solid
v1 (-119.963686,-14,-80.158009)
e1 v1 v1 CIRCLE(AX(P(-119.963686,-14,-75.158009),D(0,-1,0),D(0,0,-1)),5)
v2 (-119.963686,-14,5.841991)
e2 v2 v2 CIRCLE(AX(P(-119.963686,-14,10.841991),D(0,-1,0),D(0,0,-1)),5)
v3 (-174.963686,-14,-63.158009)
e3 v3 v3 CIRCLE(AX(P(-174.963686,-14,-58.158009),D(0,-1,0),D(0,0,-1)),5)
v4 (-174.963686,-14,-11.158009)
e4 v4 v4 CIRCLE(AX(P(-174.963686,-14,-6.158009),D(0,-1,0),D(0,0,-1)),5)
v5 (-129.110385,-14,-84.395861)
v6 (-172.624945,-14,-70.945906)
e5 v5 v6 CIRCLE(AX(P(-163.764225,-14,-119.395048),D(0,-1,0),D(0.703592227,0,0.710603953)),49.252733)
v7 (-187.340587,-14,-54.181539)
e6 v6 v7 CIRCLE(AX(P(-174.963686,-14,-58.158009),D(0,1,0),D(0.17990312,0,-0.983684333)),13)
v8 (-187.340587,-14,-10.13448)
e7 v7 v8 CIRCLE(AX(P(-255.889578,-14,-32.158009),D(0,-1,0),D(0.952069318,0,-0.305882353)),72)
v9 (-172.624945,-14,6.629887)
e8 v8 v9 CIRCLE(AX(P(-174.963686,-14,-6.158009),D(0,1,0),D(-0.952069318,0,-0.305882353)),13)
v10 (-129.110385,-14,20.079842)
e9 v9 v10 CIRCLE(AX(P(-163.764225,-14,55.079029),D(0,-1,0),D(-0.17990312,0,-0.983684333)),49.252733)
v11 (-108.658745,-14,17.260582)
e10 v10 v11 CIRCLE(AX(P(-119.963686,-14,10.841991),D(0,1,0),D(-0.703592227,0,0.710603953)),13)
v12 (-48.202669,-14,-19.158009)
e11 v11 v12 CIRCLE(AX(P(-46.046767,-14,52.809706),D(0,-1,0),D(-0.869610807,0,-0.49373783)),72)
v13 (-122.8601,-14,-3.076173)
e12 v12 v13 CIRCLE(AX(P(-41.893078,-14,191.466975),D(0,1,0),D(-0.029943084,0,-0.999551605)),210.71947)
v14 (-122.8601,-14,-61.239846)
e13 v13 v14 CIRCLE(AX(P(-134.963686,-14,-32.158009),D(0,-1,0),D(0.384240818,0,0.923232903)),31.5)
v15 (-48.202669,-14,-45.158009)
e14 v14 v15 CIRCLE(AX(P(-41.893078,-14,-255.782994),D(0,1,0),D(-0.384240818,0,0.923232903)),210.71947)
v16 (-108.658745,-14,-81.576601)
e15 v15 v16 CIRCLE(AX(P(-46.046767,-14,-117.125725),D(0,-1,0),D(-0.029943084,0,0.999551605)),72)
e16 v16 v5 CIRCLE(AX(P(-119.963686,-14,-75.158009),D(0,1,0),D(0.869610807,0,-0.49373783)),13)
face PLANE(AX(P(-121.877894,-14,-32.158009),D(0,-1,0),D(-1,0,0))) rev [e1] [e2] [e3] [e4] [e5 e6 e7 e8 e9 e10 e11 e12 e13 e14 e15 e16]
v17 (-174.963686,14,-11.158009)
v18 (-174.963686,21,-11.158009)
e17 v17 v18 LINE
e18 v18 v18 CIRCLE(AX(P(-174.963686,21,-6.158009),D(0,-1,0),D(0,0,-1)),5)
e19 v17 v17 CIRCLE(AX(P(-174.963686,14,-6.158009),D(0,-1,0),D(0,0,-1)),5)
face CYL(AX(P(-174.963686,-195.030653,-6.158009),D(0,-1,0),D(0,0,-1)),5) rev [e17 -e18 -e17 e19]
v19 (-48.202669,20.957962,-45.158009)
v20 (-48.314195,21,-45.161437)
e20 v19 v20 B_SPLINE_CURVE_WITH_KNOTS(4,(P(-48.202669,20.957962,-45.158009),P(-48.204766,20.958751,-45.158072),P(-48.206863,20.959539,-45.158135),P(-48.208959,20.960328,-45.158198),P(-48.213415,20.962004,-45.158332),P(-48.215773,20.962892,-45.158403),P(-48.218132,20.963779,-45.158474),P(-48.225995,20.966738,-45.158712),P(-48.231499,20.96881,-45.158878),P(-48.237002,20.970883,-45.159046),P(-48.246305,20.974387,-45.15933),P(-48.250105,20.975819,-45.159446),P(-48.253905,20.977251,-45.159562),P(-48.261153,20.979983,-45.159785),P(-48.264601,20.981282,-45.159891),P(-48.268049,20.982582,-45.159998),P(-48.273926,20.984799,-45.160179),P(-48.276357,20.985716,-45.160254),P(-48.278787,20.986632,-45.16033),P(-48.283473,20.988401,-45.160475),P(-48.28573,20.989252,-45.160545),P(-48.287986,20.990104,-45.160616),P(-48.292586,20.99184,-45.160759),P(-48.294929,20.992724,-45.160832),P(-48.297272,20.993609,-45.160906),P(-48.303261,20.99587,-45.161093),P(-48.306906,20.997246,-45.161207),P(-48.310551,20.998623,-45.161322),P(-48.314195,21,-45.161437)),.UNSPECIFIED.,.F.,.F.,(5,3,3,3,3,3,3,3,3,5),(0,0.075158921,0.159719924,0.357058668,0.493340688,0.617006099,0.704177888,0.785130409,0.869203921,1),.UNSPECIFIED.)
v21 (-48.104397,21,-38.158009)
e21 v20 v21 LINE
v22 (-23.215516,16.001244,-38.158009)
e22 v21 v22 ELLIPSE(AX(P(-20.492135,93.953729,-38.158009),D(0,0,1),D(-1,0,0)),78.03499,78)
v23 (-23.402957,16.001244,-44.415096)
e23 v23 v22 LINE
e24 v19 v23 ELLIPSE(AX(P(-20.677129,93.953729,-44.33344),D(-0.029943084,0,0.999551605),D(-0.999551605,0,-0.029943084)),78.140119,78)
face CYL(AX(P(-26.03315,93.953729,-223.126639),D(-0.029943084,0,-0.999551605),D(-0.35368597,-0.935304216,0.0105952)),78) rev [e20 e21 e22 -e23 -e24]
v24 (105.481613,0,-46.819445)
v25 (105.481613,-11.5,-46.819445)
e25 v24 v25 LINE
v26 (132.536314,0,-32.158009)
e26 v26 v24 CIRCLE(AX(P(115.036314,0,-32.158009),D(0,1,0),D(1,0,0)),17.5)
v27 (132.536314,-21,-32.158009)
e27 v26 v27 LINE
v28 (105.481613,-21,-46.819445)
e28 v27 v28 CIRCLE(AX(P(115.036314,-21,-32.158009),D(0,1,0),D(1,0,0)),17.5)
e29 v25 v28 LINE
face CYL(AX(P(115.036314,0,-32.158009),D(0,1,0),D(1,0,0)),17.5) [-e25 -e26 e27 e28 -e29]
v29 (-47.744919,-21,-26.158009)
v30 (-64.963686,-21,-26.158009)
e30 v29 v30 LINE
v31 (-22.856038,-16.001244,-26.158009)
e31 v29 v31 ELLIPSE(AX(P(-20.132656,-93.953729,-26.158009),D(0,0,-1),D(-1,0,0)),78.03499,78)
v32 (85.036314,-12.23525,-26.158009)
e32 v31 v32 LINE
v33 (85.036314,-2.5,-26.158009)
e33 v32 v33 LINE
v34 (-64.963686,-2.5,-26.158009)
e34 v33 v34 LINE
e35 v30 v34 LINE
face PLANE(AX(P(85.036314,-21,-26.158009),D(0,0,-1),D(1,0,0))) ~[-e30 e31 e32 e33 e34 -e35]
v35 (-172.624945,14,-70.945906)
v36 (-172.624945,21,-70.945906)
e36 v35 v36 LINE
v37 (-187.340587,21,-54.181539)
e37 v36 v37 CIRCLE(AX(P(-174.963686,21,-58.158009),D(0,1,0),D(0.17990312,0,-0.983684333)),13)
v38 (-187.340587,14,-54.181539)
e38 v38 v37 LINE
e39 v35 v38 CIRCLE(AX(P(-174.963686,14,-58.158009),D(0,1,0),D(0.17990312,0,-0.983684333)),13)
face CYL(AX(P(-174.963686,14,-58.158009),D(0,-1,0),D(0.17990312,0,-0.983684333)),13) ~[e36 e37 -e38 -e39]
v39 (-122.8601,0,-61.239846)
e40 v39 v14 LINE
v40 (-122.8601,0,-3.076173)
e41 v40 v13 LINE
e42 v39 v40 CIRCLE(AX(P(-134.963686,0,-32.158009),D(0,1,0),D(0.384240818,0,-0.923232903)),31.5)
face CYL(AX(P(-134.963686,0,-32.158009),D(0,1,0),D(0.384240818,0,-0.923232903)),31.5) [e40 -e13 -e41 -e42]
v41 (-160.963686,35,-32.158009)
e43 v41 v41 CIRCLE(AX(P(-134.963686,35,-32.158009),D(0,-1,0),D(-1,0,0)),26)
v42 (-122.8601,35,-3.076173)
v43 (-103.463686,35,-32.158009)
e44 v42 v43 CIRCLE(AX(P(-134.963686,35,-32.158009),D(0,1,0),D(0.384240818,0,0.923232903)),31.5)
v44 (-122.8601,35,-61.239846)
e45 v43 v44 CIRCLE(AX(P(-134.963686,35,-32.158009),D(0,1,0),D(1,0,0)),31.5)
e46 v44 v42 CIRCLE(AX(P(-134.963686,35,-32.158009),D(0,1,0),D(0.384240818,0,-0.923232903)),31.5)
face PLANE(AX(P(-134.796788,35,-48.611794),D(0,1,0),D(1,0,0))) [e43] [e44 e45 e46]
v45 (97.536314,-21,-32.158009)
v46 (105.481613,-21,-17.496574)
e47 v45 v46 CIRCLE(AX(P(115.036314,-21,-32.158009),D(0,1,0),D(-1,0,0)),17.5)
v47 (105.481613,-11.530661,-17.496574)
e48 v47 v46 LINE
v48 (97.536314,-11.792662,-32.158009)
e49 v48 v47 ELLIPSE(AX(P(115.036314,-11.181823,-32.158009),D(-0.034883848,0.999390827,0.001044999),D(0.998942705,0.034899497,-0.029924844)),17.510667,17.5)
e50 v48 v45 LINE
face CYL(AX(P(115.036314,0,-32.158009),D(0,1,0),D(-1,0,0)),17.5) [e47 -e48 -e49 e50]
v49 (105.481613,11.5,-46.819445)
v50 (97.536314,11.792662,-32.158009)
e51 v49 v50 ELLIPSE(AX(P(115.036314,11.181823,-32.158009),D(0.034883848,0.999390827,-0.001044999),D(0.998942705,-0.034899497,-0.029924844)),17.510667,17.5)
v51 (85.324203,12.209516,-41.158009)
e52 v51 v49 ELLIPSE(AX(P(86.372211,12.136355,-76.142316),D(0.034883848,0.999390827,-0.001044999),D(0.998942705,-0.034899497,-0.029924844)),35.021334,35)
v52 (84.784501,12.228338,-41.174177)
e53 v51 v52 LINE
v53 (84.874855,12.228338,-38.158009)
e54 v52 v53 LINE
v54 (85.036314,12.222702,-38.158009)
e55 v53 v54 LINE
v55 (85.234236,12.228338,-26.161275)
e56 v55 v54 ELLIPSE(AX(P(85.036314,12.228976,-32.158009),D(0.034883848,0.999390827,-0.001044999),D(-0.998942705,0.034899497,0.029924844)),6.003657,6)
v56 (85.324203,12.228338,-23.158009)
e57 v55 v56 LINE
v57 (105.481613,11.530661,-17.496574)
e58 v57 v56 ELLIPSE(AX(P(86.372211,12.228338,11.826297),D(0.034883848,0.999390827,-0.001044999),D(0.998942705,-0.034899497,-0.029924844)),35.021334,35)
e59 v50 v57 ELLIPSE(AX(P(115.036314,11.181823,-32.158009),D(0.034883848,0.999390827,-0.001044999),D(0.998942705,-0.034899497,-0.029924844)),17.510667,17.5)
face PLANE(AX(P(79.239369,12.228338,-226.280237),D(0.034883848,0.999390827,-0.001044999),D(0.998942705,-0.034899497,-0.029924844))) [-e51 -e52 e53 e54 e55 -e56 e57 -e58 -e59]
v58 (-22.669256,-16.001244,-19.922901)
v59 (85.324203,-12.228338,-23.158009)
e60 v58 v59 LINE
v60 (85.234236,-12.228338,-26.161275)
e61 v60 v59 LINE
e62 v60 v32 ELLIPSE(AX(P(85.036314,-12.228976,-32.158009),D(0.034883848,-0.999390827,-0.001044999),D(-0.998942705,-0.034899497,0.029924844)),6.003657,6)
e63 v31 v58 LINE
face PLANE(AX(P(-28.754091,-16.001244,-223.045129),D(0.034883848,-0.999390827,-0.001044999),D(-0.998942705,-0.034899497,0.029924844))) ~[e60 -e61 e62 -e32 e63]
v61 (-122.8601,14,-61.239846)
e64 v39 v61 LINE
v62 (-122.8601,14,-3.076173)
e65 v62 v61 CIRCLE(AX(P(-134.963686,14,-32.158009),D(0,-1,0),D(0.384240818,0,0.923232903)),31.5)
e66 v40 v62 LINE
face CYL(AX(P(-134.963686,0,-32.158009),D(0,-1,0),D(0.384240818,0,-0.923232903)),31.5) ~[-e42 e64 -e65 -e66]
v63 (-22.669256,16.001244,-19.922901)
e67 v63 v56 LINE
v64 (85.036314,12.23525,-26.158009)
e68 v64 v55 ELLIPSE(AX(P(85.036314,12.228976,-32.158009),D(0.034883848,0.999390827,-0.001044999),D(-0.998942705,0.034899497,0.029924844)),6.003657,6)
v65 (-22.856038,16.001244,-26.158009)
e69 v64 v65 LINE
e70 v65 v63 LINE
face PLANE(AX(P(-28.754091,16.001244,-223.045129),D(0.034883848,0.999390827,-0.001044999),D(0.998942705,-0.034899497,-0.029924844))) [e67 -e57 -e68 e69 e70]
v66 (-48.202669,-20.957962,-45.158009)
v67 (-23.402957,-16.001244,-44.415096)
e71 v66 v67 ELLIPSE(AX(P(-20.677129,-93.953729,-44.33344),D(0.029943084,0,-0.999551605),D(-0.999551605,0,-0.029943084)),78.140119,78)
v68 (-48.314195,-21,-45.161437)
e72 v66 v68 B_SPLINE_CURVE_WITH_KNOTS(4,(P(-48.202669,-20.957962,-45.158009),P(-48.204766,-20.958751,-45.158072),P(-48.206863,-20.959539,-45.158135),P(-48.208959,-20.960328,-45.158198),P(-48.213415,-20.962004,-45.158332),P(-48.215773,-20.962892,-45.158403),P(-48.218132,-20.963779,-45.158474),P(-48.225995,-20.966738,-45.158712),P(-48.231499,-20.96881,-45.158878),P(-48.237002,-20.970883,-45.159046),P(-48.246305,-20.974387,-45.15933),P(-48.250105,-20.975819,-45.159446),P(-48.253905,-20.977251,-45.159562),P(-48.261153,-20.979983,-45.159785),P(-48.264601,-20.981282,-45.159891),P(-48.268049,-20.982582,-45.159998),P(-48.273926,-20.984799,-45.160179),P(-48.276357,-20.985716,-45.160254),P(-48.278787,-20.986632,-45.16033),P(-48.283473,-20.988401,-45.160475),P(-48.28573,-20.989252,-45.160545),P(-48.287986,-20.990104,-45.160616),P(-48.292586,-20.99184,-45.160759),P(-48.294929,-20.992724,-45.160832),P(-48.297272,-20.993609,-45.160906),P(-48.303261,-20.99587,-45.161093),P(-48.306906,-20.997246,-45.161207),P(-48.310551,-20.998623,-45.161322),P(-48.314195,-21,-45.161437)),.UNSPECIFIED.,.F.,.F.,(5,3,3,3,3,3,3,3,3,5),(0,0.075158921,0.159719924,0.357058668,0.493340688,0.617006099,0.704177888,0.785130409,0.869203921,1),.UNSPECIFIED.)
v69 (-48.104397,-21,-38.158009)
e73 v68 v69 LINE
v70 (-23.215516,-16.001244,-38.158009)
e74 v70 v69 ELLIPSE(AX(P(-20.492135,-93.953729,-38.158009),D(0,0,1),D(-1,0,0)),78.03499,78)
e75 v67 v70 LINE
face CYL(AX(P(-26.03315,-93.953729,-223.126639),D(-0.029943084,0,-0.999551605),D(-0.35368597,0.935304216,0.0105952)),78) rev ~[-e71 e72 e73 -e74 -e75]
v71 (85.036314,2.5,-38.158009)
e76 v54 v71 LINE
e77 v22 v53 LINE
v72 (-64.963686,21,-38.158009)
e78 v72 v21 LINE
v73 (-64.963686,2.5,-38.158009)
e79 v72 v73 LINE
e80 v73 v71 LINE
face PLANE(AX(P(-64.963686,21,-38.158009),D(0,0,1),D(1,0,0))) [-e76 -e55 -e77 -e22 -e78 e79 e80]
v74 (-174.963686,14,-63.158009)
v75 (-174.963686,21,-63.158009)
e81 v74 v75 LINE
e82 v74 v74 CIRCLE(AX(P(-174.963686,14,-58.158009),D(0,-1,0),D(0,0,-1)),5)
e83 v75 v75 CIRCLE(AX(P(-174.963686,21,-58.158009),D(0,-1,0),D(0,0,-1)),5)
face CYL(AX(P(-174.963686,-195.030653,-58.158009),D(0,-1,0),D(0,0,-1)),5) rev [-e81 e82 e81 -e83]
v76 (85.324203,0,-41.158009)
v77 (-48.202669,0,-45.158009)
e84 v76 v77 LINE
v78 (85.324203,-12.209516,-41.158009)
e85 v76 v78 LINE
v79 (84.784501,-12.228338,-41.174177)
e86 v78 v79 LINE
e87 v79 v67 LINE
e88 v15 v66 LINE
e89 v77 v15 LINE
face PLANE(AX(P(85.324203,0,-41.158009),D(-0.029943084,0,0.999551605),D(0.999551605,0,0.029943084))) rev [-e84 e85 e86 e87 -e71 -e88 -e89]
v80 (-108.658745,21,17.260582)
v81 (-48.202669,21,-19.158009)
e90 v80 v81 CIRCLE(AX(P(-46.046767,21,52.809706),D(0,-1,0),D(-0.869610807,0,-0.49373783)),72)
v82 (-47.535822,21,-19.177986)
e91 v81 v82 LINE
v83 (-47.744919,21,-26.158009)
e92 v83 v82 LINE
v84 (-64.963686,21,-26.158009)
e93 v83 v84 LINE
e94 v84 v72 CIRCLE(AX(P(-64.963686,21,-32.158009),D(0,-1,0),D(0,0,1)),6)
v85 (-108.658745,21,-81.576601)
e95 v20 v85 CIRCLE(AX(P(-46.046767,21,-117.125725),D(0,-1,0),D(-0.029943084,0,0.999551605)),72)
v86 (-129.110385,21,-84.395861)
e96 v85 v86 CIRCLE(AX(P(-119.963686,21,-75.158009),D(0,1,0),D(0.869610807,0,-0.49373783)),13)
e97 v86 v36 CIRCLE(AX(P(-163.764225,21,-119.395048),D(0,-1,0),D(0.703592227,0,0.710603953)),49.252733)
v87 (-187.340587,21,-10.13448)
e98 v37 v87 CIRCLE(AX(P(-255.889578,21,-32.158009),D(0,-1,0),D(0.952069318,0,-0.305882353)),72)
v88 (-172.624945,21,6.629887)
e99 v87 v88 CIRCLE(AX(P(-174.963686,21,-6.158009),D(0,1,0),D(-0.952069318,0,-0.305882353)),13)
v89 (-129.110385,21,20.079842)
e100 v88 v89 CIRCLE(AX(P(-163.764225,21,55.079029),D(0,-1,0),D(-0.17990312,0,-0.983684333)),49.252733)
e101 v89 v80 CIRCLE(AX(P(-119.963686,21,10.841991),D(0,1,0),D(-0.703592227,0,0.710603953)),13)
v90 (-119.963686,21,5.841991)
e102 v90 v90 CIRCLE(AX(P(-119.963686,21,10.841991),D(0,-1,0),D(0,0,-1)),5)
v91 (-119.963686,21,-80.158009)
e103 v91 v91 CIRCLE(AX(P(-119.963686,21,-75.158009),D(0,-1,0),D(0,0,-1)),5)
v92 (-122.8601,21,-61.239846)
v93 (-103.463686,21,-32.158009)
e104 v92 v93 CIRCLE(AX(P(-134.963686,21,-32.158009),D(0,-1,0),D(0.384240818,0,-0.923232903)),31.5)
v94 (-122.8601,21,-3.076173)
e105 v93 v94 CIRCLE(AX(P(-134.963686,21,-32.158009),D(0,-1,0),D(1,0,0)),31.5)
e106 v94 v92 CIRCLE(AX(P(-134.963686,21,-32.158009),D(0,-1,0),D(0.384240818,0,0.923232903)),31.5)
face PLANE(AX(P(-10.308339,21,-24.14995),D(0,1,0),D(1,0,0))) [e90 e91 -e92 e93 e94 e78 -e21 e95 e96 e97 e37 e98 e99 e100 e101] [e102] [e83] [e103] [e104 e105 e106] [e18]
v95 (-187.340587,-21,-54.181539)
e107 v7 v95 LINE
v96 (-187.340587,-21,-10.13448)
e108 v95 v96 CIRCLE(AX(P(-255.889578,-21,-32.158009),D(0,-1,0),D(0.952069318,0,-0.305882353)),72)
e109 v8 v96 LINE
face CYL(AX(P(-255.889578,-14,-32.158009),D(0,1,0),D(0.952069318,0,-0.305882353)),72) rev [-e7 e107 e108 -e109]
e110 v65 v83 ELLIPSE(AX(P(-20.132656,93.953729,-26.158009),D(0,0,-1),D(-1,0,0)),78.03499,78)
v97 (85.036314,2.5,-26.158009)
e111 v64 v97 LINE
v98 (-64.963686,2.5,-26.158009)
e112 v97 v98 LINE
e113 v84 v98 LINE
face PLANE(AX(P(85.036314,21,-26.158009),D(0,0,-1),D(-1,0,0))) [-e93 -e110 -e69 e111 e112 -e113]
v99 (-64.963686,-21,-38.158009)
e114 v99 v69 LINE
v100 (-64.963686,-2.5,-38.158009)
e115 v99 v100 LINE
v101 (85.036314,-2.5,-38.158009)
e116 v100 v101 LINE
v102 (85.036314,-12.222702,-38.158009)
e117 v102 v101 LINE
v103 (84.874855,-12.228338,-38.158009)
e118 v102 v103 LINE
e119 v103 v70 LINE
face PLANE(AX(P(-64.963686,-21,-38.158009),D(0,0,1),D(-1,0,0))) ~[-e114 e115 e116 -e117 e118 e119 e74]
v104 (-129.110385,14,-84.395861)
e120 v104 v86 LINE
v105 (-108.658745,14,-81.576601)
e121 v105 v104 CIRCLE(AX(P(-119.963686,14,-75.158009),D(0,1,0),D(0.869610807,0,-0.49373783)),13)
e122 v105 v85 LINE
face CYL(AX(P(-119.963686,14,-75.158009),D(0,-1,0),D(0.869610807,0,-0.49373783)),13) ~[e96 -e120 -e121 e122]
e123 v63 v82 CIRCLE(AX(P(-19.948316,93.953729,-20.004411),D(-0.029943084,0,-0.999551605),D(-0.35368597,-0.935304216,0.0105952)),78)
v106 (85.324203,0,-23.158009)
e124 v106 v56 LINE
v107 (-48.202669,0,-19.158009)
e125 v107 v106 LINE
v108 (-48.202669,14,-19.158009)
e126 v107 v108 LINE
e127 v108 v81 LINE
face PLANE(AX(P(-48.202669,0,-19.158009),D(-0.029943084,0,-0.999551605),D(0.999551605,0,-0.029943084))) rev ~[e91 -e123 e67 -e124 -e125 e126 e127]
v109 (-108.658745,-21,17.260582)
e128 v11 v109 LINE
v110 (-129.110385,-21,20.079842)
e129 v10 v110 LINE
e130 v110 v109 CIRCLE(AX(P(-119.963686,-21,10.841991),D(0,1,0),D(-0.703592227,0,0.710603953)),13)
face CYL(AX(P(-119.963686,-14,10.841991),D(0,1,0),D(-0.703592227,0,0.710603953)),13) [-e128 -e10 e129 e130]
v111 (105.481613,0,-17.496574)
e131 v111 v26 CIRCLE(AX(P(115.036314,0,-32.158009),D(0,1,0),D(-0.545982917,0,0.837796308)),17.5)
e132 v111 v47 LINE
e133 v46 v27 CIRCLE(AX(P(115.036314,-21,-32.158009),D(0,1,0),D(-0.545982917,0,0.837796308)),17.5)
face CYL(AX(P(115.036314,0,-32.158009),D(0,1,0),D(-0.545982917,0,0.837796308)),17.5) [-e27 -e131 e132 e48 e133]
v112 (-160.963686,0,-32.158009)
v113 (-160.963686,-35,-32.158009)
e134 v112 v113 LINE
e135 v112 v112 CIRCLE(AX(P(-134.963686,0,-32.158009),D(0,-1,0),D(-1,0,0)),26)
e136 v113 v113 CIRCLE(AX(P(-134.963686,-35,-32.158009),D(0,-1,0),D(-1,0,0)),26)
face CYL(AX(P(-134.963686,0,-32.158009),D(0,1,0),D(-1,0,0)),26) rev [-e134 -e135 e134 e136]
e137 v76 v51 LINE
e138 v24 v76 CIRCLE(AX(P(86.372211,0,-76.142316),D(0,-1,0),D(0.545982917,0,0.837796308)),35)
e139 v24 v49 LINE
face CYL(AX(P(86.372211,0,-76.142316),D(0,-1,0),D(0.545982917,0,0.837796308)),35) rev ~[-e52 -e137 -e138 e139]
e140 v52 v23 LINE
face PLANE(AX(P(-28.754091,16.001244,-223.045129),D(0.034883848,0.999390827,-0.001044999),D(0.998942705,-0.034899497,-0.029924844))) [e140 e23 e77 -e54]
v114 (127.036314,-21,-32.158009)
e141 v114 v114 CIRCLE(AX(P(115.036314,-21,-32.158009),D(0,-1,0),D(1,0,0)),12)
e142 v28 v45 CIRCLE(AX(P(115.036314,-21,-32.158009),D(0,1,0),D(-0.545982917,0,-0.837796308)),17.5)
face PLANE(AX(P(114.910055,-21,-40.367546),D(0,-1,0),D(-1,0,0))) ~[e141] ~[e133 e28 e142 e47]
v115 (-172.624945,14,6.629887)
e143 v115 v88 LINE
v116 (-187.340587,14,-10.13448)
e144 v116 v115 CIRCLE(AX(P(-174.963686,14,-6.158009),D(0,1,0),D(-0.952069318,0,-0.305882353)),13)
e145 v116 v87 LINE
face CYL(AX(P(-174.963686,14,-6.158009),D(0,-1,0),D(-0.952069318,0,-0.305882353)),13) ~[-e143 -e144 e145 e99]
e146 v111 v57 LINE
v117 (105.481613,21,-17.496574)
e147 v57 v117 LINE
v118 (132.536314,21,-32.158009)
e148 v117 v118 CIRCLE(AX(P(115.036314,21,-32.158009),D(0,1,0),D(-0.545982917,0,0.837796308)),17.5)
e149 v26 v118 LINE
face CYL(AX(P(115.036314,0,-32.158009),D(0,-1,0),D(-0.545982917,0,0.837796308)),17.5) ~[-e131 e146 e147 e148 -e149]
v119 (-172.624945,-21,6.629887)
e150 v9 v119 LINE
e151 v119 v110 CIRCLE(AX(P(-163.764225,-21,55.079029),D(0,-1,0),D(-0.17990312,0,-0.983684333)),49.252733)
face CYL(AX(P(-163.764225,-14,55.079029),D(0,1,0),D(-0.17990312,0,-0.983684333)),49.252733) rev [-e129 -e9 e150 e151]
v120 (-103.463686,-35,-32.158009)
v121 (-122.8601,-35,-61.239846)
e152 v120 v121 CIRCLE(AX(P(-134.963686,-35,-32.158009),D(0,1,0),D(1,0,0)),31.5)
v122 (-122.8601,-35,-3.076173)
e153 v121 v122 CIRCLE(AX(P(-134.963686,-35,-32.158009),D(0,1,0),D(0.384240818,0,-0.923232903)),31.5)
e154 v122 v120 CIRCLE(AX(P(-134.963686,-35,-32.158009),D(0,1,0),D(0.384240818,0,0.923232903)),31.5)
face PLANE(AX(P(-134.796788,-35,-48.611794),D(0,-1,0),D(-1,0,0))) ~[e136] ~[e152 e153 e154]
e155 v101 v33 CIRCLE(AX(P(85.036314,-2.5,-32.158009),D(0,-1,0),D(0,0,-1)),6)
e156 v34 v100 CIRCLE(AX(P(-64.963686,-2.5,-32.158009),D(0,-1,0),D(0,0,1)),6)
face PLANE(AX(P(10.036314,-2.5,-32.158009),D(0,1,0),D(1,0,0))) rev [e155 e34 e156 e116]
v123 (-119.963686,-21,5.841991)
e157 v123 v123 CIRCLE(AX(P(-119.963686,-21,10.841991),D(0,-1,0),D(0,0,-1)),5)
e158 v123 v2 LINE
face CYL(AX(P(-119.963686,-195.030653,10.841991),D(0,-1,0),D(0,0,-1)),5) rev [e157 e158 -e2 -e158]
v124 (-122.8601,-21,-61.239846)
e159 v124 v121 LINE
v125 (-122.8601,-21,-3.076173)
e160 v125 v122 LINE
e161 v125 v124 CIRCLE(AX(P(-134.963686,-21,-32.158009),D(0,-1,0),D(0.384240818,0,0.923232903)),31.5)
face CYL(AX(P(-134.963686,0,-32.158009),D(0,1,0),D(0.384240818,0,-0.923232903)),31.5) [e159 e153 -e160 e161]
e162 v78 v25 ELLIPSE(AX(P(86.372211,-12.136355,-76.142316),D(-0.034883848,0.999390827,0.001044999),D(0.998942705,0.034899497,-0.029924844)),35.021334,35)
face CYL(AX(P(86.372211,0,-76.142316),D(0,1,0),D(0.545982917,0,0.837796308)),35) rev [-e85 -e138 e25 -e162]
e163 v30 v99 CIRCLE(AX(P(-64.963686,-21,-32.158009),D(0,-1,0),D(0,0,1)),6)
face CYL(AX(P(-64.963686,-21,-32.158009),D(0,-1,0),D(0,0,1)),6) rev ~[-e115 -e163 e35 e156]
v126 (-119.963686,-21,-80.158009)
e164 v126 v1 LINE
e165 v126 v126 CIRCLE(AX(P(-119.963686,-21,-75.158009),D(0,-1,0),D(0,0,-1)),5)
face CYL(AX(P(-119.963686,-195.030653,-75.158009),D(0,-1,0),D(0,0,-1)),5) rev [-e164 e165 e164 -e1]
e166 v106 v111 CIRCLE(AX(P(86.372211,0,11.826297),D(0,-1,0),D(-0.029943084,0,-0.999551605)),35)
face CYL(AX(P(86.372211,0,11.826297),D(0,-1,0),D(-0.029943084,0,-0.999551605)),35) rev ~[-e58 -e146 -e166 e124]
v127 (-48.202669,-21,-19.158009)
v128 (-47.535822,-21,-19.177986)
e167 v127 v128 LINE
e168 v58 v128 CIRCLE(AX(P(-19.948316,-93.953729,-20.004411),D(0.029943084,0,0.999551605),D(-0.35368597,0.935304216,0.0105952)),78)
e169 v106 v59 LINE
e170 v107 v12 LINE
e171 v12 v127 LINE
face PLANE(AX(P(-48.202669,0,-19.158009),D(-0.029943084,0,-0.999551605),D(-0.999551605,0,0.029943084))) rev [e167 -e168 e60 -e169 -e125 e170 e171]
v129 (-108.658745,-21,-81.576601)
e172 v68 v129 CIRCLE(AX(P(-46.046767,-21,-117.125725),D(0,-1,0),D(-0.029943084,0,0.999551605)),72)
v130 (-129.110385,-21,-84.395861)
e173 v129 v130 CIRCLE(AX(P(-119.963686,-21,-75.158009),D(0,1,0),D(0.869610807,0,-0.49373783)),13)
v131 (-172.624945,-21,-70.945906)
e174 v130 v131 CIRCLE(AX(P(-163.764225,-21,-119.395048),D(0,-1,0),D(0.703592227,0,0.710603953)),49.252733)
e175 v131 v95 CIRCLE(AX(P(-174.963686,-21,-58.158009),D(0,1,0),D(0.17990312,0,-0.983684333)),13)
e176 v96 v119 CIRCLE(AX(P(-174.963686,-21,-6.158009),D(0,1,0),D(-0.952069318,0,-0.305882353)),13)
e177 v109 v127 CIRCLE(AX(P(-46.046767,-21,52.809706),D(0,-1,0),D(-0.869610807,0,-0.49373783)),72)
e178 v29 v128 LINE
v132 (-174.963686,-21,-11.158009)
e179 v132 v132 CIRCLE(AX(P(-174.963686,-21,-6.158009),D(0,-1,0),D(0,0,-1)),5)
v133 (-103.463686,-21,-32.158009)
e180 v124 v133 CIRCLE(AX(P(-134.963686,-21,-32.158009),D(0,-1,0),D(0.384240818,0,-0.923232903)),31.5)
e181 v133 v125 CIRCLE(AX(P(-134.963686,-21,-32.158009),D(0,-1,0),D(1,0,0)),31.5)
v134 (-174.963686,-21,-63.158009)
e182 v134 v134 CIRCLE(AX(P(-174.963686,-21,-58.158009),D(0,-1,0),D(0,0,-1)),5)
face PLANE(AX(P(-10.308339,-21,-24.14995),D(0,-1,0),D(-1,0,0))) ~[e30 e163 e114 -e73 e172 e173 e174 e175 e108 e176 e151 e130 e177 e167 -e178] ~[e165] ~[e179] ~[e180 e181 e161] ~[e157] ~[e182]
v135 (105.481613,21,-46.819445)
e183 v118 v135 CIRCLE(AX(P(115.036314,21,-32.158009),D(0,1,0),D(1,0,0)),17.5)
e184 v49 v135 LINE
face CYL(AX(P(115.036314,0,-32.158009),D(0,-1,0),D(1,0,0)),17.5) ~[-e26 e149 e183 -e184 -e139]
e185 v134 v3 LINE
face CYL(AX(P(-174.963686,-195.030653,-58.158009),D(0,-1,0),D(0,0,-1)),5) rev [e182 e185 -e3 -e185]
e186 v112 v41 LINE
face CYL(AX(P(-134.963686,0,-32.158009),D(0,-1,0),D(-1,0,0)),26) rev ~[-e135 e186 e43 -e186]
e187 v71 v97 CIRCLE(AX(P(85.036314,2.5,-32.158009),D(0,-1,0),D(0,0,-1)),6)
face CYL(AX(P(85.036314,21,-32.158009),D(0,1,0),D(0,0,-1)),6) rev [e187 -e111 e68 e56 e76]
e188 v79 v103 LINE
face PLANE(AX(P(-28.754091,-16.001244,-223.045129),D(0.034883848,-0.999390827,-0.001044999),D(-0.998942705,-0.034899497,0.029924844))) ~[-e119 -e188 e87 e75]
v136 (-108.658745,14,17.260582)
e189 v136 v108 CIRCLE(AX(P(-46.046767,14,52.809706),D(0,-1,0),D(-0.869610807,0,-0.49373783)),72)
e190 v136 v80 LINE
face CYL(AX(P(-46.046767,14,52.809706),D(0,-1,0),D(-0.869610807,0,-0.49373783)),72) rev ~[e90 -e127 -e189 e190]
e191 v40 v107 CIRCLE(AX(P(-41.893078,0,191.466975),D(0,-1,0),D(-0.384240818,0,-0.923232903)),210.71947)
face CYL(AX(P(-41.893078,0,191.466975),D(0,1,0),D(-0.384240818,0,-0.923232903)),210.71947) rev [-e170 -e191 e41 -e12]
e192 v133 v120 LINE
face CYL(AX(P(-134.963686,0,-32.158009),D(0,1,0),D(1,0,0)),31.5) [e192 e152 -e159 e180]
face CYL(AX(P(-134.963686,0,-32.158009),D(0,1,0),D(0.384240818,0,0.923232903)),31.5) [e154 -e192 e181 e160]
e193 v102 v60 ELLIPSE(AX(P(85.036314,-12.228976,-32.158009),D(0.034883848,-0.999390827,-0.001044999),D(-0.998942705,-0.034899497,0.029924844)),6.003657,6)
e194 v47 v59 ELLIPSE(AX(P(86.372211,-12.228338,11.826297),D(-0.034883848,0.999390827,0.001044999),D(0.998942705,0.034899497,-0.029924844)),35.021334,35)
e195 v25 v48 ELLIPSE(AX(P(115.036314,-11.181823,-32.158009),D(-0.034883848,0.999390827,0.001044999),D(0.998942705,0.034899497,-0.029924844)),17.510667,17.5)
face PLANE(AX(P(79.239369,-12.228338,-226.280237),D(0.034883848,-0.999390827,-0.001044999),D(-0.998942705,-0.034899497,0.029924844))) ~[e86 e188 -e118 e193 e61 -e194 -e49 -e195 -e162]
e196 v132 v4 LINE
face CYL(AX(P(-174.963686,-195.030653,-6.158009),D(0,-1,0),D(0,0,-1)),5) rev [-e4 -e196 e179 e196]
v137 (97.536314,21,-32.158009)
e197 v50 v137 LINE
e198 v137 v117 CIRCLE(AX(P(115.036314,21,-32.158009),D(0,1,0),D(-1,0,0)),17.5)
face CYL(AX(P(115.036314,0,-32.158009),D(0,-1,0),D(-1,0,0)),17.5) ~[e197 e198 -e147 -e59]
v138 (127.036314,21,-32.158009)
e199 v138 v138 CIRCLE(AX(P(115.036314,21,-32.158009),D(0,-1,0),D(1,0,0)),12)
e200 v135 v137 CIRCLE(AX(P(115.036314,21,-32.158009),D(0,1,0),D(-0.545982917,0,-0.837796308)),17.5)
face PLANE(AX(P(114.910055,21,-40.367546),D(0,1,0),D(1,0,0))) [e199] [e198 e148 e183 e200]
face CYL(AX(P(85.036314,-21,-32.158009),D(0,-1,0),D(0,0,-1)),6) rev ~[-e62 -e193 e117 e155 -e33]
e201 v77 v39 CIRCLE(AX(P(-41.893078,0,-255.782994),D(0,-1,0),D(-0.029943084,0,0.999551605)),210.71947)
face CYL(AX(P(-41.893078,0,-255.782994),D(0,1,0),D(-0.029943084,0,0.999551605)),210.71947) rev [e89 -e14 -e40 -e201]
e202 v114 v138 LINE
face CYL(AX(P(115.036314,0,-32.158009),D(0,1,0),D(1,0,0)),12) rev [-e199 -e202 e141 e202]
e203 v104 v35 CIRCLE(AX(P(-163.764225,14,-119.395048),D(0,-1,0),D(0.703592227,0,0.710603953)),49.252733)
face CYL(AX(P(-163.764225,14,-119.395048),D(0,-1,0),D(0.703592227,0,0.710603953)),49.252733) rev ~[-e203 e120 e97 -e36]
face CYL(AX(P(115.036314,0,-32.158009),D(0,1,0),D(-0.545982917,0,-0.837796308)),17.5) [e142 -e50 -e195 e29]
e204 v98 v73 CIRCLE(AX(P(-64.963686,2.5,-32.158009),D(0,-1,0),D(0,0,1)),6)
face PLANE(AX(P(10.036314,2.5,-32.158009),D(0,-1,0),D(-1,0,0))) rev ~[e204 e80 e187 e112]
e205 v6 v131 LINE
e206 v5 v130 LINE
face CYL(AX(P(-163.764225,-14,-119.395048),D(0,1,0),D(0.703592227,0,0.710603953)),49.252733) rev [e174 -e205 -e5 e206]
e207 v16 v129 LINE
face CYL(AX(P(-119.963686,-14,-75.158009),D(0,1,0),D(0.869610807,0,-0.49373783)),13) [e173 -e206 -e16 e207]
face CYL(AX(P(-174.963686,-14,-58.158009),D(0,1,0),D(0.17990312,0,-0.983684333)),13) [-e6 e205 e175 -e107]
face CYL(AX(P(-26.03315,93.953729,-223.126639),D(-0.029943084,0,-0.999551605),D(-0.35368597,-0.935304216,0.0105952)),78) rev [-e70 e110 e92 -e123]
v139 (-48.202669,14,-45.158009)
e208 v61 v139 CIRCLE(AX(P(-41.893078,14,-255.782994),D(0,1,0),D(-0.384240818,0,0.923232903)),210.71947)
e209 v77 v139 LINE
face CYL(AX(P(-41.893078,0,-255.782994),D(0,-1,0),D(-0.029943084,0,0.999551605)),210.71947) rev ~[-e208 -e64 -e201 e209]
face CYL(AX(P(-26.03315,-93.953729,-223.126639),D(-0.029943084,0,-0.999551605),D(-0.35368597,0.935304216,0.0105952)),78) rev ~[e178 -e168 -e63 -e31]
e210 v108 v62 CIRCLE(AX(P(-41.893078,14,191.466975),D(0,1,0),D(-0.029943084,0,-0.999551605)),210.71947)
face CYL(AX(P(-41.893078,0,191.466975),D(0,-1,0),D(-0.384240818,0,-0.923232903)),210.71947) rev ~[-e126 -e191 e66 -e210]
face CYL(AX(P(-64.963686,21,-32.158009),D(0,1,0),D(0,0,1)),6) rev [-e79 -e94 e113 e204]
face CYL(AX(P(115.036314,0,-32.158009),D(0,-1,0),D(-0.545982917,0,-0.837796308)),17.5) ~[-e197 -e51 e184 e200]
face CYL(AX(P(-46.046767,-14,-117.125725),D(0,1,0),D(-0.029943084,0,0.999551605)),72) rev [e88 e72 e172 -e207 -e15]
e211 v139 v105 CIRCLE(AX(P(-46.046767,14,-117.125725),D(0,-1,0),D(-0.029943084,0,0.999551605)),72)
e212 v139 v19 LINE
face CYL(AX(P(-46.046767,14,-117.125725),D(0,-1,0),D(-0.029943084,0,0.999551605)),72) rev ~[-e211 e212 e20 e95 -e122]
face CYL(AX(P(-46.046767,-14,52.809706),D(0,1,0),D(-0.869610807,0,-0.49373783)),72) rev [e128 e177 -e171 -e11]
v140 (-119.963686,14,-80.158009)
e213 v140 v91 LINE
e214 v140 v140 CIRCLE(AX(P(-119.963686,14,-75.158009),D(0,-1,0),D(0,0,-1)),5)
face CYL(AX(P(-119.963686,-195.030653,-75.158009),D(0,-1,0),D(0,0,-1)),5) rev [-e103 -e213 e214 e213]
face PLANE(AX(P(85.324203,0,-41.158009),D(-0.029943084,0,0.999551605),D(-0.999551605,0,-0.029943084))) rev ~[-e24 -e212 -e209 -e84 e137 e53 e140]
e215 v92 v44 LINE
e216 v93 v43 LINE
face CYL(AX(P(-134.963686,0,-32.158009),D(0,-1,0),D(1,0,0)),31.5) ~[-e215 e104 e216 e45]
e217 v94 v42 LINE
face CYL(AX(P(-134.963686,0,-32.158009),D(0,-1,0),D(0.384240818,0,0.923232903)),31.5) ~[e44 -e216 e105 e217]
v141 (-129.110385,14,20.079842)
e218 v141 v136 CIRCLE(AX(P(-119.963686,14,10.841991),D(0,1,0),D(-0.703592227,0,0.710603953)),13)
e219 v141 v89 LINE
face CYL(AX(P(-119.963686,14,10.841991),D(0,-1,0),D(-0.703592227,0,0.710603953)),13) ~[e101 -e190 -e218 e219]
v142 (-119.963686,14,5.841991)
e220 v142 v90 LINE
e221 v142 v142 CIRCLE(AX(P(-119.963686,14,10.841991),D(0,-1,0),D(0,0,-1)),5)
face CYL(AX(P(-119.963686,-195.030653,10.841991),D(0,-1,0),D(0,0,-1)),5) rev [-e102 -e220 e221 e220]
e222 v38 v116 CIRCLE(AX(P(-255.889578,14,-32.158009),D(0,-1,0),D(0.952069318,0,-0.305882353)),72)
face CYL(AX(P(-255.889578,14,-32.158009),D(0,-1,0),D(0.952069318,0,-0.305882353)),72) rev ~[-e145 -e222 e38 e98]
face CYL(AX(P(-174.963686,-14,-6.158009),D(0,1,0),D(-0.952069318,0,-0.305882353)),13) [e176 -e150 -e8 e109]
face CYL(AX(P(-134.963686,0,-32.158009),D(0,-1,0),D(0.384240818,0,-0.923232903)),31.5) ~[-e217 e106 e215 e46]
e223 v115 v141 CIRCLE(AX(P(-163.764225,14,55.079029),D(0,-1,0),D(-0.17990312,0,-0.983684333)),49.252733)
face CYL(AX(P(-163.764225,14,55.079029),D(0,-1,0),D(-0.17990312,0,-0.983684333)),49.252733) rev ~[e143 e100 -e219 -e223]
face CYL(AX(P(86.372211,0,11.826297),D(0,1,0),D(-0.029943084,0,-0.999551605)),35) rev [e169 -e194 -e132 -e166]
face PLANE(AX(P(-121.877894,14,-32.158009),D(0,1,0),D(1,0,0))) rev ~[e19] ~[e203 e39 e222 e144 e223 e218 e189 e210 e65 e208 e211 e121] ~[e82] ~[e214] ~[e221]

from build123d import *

# Parameters (mm, degrees)
BOSS_EXTRUDE1_DEPTH     = 35
BOSS_EXTRUDE3_START     = 14
BOSS_EXTRUDE3_DEPTH     = 7
BOSS_EXTRUDE4_DEPTH     = 21
CUT_EXTRUDE1_DEPTH      = 203.213347551
CUT_EXTRUDE1_DEPTH_BACK = 203.213347551
BOSS_EXTRUDE5_DEPTH     = 21
CUT_EXTRUDE2_DEPTH      = 18.5
CUT_EXTRUDE3_DEPTH      = 216.030653148
CUT_EXTRUDE3_DEPTH_BACK = 216.030653148
SKETCH4_R               = 5


with BuildPart() as part:
    # Sketch1 → Boss-Extrude1 (new body)
    with BuildSketch(Plane(origin=(0, 0, 0), x_dir=(1, 0, 0), z_dir=(0, 1, 0))):
        with BuildLine():
            ThreePointArc((-160.963685795, 32.158009367), (-134.963685795, 58.158009367), (-108.963685795, 32.158009367))
            Line((-108.963685795, 32.158009367), (-103.463685795, 32.158009367))
            ThreePointArc((-103.463685795, 32.158009367), (-108.757646875, 49.636382407), (-122.860100026, 61.239845821))
            ThreePointArc((-122.860100026, 61.239845821), (-152.442058835, 58.364048287), (-166.463685795, 32.158009367))
            Line((-166.463685795, 32.158009367), (-160.963685795, 32.158009367))
        make_face()
        with BuildLine():
            Line((-103.463685795, 32.158009367), (-108.963685795, 32.158009367))
            ThreePointArc((-108.963685795, 32.158009367), (-134.963685795, 6.158009367), (-160.963685795, 32.158009367))
            Line((-160.963685795, 32.158009367), (-166.463685795, 32.158009367))
            ThreePointArc((-166.463685795, 32.158009367), (-152.442058835, 5.951970447), (-122.860100026, 3.076172913))
            ThreePointArc((-122.860100026, 3.076172913), (-108.757646875, 14.679636327), (-103.463685795, 32.158009367))
        make_face()
        with BuildLine():
            ThreePointArc((-160.963685795, 32.158009367), (-134.963685795, 58.158009367), (-108.963685795, 32.158009367))
            Line((-108.963685795, 32.158009367), (-103.463685795, 32.158009367))
            ThreePointArc((-103.463685795, 32.158009367), (-108.757646875, 49.636382407), (-122.860100026, 61.239845821))
            ThreePointArc((-122.860100026, 61.239845821), (-152.442058835, 58.364048287), (-166.463685795, 32.158009367))
            Line((-166.463685795, 32.158009367), (-160.963685795, 32.158009367))
        make_face()
        with BuildLine():
            Line((-103.463685795, 32.158009367), (-108.963685795, 32.158009367))
            ThreePointArc((-108.963685795, 32.158009367), (-134.963685795, 6.158009367), (-160.963685795, 32.158009367))
            Line((-160.963685795, 32.158009367), (-166.463685795, 32.158009367))
            ThreePointArc((-166.463685795, 32.158009367), (-152.442058835, 5.951970447), (-122.860100026, 3.076172913))
            ThreePointArc((-122.860100026, 3.076172913), (-108.757646875, 14.679636327), (-103.463685795, 32.158009367))
        make_face()
    extrude(amount=BOSS_EXTRUDE1_DEPTH)

    # Sketch1<5> → Boss-Extrude3 (add)
    with BuildSketch(Plane(origin=(0, 0, 0), x_dir=(1, 0, 0), z_dir=(0, 1, 0)).offset(BOSS_EXTRUDE3_START)):
        with BuildLine():
            ThreePointArc((-122.860100026, 61.239845821), (-86.266022188, 49.78848691), (-48.202669322, 45.158009367))
            ThreePointArc((-48.202669322, 45.158009367), (-83.19912964, 55.451565304), (-108.65874531, 81.576601162))
            ThreePointArc((-108.65874531, 81.576601162), (-118.188423055, 88.036225168), (-129.110384746, 84.395860758))
            ThreePointArc((-129.110384746, 84.395860758), (-149.219583948, 72.338856333), (-172.624945232, 70.945905698))
            ThreePointArc((-172.624945232, 70.945905698), (-184.733648255, 66.734012722), (-187.340586928, 54.181538779))
            ThreePointArc((-187.340586928, 54.181538779), (-183.88957782, 32.158009367), (-187.340586928, 10.134479955))
            ThreePointArc((-187.340586928, 10.134479955), (-184.733648255, -2.417993988), (-172.624945232, -6.629886964))
            ThreePointArc((-172.624945232, -6.629886964), (-149.219583948, -8.022837599), (-129.110384746, -20.079842023))
            ThreePointArc((-129.110384746, -20.079842023), (-118.188423055, -23.720206433), (-108.65874531, -17.260582428))
            ThreePointArc((-108.65874531, -17.260582428), (-83.19912964, 8.86445343), (-48.202669322, 19.158009367))
            ThreePointArc((-48.202669322, 19.158009367), (-86.266022188, 14.527531824), (-122.860100026, 3.076172913))
            ThreePointArc((-122.860100026, 3.076172913), (-166.463685795, 32.158009367), (-122.860100026, 61.239845821))
        make_face()
    extrude(amount=BOSS_EXTRUDE3_DEPTH)

    # Sketch1<7> → Boss-Extrude4 (add)
    with BuildSketch(Plane(origin=(0, 0, 0), x_dir=(1, 0, 0), z_dir=(0, 1, 0))):
        with BuildLine():
            Line((97.536314205, 32.158009367), (-103.463685795, 32.158009367))
            ThreePointArc((-103.463685795, 32.158009367), (-108.757646875, 14.679636327), (-122.860100026, 3.076172913))
            ThreePointArc((-122.860100026, 3.076172913), (-86.266022188, 14.527531824), (-48.202669322, 19.158009367))
            Line((-48.202669322, 19.158009367), (85.324203099, 23.158009367))
            ThreePointArc((85.324203099, 23.158009367), (95.83616648, 21.869898036), (105.481613155, 17.496573972))
            ThreePointArc((105.481613155, 17.496573972), (99.650325963, 23.820062029), (97.536314205, 32.158009367))
        make_face()
        with BuildLine():
            ThreePointArc((-122.860100026, 61.239845821), (-108.757646875, 49.636382407), (-103.463685795, 32.158009367))
            Line((-103.463685795, 32.158009367), (97.536314205, 32.158009367))
            ThreePointArc((97.536314205, 32.158009367), (99.650325963, 40.495956705), (105.481613155, 46.819444762))
            ThreePointArc((105.481613155, 46.819444762), (95.83616648, 42.446120698), (85.324203099, 41.158009367))
            Line((85.324203099, 41.158009367), (-48.202669322, 45.158009367))
            ThreePointArc((-48.202669322, 45.158009367), (-86.266022188, 49.78848691), (-122.860100026, 61.239845821))
        make_face()
    extrude(amount=BOSS_EXTRUDE4_DEPTH)

    # Sketch2 → Cut-Extrude1 (cut, two sides: drawn at the far end of the back side and taken through both)
    with BuildSketch(Plane(origin=(-0.616610621, 0, -20.583521935), x_dir=(0.9995516053170144, 0, -0.029943084480054463), z_dir=(0.02994308448005446, 0, 0.9995516053170143)).offset(-CUT_EXTRUDE1_DEPTH_BACK)):
        Polygon((-46.940258805, 23.404897351), (-46.940258805, 21), (85.979366411, 21), (85.979366411, 12.228337878), (106.836234351, 11.5), (106.836234351, 19.899284572), (106.836234351, 23.404897351), align=None)
        with BuildLine():
            Line((85.979366411, 21), (-46.940258805, 21))
            ThreePointArc((-46.940258805, 21), (-34.706035561, 17.482188037), (-22.062538217, 16.001244325))
            Line((-22.062538217, 16.001244325), (85.979366411, 12.228337878))
            Line((85.979366411, 12.228337878), (85.979366411, 21))
        make_face()
    extrude(amount=CUT_EXTRUDE1_DEPTH + CUT_EXTRUDE1_DEPTH_BACK, mode=Mode.SUBTRACT)

    # Sketch1<8> → Boss-Extrude5 (add)
    with BuildSketch(Plane(origin=(0, 0, 0), x_dir=(1, 0, 0), z_dir=(0, 1, 0))):
        with BuildLine():
            ThreePointArc((105.481613155, 46.819444762), (99.650325963, 40.495956705), (97.536314205, 32.158009367))
            Line((97.536314205, 32.158009367), (103.036314205, 32.158009367))
            ThreePointArc((103.036314205, 32.158009367), (115.036314205, 44.158009367), (127.036314205, 32.158009367))
            Line((127.036314205, 32.158009367), (132.536314205, 32.158009367))
            ThreePointArc((132.536314205, 32.158009367), (123.374261543, 47.543997609), (105.481613155, 46.819444762))
        make_face()
        with BuildLine():
            Line((103.036314205, 32.158009367), (97.536314205, 32.158009367))
            ThreePointArc((97.536314205, 32.158009367), (99.650325963, 23.820062029), (105.481613155, 17.496573972))
            ThreePointArc((105.481613155, 17.496573972), (123.374261543, 16.772021125), (132.536314205, 32.158009367))
            Line((132.536314205, 32.158009367), (127.036314205, 32.158009367))
            ThreePointArc((127.036314205, 32.158009367), (115.036314205, 20.158009367), (103.036314205, 32.158009367))
        make_face()
        with BuildLine():
            ThreePointArc((105.481613155, 46.819444762), (99.650325963, 40.495956705), (97.536314205, 32.158009367))
            Line((97.536314205, 32.158009367), (103.036314205, 32.158009367))
            ThreePointArc((103.036314205, 32.158009367), (115.036314205, 44.158009367), (127.036314205, 32.158009367))
            Line((127.036314205, 32.158009367), (132.536314205, 32.158009367))
            ThreePointArc((132.536314205, 32.158009367), (123.374261543, 47.543997609), (105.481613155, 46.819444762))
        make_face()
        with BuildLine():
            Line((103.036314205, 32.158009367), (97.536314205, 32.158009367))
            ThreePointArc((97.536314205, 32.158009367), (99.650325963, 23.820062029), (105.481613155, 17.496573972))
            ThreePointArc((105.481613155, 17.496573972), (123.374261543, 16.772021125), (132.536314205, 32.158009367))
            Line((132.536314205, 32.158009367), (127.036314205, 32.158009367))
            ThreePointArc((127.036314205, 32.158009367), (115.036314205, 20.158009367), (103.036314205, 32.158009367))
        make_face()
    extrude(amount=BOSS_EXTRUDE5_DEPTH)

    # Mirror1: part across plane


with BuildPart() as part_1:
    add(part.part)
    add(part.part.mirror(Plane.ZX))

    # Sketch3 → Cut-Extrude2 (cut)
    with BuildSketch(Plane(origin=(0, 21, 0), x_dir=(1, 0, 0), z_dir=(0, 1, 0))):
        with BuildLine():
            Line((85.036314205, 26.158009367), (-64.963685795, 26.158009367))
            ThreePointArc((-64.963685795, 26.158009367), (-70.963685795, 32.158009367), (-64.963685795, 38.158009367))
            Line((-64.963685795, 38.158009367), (85.036314205, 38.158009367))
            ThreePointArc((85.036314205, 38.158009367), (91.036314205, 32.158009367), (85.036314205, 26.158009367))
        make_face()
    cut_extrude2 = extrude(amount=-CUT_EXTRUDE2_DEPTH, mode=Mode.SUBTRACT)

    # Mirror2: Cut-Extrude2 across plane
    add(cut_extrude2.mirror(Plane.ZX), mode=Mode.SUBTRACT)

    # Sketch4 → Cut-Extrude3 (cut, two sides: drawn at the far end of the back side and taken through both)
    with BuildSketch(Plane(origin=(0, 21, 0), x_dir=(1, 0, 0), z_dir=(0, 1, 0)).offset(-CUT_EXTRUDE3_DEPTH_BACK)):
        with Locations(Location((-174.963685795, 58.158009367, 0), (0, 0, 90))):
            Circle(SKETCH4_R)
        with Locations(Location((-174.963685795, 6.158009367, 0), (0, 0, 90))):
            Circle(SKETCH4_R)
        with Locations(Location((-119.963685795, -10.841990633, 0), (0, 0, 90))):
            Circle(SKETCH4_R)
        with Locations(Location((-119.963685795, 75.158009367, 0), (0, 0, 90))):
            Circle(SKETCH4_R)
    extrude(amount=CUT_EXTRUDE3_DEPTH + CUT_EXTRUDE3_DEPTH_BACK, mode=Mode.SUBTRACT)


solid = part_1.part
